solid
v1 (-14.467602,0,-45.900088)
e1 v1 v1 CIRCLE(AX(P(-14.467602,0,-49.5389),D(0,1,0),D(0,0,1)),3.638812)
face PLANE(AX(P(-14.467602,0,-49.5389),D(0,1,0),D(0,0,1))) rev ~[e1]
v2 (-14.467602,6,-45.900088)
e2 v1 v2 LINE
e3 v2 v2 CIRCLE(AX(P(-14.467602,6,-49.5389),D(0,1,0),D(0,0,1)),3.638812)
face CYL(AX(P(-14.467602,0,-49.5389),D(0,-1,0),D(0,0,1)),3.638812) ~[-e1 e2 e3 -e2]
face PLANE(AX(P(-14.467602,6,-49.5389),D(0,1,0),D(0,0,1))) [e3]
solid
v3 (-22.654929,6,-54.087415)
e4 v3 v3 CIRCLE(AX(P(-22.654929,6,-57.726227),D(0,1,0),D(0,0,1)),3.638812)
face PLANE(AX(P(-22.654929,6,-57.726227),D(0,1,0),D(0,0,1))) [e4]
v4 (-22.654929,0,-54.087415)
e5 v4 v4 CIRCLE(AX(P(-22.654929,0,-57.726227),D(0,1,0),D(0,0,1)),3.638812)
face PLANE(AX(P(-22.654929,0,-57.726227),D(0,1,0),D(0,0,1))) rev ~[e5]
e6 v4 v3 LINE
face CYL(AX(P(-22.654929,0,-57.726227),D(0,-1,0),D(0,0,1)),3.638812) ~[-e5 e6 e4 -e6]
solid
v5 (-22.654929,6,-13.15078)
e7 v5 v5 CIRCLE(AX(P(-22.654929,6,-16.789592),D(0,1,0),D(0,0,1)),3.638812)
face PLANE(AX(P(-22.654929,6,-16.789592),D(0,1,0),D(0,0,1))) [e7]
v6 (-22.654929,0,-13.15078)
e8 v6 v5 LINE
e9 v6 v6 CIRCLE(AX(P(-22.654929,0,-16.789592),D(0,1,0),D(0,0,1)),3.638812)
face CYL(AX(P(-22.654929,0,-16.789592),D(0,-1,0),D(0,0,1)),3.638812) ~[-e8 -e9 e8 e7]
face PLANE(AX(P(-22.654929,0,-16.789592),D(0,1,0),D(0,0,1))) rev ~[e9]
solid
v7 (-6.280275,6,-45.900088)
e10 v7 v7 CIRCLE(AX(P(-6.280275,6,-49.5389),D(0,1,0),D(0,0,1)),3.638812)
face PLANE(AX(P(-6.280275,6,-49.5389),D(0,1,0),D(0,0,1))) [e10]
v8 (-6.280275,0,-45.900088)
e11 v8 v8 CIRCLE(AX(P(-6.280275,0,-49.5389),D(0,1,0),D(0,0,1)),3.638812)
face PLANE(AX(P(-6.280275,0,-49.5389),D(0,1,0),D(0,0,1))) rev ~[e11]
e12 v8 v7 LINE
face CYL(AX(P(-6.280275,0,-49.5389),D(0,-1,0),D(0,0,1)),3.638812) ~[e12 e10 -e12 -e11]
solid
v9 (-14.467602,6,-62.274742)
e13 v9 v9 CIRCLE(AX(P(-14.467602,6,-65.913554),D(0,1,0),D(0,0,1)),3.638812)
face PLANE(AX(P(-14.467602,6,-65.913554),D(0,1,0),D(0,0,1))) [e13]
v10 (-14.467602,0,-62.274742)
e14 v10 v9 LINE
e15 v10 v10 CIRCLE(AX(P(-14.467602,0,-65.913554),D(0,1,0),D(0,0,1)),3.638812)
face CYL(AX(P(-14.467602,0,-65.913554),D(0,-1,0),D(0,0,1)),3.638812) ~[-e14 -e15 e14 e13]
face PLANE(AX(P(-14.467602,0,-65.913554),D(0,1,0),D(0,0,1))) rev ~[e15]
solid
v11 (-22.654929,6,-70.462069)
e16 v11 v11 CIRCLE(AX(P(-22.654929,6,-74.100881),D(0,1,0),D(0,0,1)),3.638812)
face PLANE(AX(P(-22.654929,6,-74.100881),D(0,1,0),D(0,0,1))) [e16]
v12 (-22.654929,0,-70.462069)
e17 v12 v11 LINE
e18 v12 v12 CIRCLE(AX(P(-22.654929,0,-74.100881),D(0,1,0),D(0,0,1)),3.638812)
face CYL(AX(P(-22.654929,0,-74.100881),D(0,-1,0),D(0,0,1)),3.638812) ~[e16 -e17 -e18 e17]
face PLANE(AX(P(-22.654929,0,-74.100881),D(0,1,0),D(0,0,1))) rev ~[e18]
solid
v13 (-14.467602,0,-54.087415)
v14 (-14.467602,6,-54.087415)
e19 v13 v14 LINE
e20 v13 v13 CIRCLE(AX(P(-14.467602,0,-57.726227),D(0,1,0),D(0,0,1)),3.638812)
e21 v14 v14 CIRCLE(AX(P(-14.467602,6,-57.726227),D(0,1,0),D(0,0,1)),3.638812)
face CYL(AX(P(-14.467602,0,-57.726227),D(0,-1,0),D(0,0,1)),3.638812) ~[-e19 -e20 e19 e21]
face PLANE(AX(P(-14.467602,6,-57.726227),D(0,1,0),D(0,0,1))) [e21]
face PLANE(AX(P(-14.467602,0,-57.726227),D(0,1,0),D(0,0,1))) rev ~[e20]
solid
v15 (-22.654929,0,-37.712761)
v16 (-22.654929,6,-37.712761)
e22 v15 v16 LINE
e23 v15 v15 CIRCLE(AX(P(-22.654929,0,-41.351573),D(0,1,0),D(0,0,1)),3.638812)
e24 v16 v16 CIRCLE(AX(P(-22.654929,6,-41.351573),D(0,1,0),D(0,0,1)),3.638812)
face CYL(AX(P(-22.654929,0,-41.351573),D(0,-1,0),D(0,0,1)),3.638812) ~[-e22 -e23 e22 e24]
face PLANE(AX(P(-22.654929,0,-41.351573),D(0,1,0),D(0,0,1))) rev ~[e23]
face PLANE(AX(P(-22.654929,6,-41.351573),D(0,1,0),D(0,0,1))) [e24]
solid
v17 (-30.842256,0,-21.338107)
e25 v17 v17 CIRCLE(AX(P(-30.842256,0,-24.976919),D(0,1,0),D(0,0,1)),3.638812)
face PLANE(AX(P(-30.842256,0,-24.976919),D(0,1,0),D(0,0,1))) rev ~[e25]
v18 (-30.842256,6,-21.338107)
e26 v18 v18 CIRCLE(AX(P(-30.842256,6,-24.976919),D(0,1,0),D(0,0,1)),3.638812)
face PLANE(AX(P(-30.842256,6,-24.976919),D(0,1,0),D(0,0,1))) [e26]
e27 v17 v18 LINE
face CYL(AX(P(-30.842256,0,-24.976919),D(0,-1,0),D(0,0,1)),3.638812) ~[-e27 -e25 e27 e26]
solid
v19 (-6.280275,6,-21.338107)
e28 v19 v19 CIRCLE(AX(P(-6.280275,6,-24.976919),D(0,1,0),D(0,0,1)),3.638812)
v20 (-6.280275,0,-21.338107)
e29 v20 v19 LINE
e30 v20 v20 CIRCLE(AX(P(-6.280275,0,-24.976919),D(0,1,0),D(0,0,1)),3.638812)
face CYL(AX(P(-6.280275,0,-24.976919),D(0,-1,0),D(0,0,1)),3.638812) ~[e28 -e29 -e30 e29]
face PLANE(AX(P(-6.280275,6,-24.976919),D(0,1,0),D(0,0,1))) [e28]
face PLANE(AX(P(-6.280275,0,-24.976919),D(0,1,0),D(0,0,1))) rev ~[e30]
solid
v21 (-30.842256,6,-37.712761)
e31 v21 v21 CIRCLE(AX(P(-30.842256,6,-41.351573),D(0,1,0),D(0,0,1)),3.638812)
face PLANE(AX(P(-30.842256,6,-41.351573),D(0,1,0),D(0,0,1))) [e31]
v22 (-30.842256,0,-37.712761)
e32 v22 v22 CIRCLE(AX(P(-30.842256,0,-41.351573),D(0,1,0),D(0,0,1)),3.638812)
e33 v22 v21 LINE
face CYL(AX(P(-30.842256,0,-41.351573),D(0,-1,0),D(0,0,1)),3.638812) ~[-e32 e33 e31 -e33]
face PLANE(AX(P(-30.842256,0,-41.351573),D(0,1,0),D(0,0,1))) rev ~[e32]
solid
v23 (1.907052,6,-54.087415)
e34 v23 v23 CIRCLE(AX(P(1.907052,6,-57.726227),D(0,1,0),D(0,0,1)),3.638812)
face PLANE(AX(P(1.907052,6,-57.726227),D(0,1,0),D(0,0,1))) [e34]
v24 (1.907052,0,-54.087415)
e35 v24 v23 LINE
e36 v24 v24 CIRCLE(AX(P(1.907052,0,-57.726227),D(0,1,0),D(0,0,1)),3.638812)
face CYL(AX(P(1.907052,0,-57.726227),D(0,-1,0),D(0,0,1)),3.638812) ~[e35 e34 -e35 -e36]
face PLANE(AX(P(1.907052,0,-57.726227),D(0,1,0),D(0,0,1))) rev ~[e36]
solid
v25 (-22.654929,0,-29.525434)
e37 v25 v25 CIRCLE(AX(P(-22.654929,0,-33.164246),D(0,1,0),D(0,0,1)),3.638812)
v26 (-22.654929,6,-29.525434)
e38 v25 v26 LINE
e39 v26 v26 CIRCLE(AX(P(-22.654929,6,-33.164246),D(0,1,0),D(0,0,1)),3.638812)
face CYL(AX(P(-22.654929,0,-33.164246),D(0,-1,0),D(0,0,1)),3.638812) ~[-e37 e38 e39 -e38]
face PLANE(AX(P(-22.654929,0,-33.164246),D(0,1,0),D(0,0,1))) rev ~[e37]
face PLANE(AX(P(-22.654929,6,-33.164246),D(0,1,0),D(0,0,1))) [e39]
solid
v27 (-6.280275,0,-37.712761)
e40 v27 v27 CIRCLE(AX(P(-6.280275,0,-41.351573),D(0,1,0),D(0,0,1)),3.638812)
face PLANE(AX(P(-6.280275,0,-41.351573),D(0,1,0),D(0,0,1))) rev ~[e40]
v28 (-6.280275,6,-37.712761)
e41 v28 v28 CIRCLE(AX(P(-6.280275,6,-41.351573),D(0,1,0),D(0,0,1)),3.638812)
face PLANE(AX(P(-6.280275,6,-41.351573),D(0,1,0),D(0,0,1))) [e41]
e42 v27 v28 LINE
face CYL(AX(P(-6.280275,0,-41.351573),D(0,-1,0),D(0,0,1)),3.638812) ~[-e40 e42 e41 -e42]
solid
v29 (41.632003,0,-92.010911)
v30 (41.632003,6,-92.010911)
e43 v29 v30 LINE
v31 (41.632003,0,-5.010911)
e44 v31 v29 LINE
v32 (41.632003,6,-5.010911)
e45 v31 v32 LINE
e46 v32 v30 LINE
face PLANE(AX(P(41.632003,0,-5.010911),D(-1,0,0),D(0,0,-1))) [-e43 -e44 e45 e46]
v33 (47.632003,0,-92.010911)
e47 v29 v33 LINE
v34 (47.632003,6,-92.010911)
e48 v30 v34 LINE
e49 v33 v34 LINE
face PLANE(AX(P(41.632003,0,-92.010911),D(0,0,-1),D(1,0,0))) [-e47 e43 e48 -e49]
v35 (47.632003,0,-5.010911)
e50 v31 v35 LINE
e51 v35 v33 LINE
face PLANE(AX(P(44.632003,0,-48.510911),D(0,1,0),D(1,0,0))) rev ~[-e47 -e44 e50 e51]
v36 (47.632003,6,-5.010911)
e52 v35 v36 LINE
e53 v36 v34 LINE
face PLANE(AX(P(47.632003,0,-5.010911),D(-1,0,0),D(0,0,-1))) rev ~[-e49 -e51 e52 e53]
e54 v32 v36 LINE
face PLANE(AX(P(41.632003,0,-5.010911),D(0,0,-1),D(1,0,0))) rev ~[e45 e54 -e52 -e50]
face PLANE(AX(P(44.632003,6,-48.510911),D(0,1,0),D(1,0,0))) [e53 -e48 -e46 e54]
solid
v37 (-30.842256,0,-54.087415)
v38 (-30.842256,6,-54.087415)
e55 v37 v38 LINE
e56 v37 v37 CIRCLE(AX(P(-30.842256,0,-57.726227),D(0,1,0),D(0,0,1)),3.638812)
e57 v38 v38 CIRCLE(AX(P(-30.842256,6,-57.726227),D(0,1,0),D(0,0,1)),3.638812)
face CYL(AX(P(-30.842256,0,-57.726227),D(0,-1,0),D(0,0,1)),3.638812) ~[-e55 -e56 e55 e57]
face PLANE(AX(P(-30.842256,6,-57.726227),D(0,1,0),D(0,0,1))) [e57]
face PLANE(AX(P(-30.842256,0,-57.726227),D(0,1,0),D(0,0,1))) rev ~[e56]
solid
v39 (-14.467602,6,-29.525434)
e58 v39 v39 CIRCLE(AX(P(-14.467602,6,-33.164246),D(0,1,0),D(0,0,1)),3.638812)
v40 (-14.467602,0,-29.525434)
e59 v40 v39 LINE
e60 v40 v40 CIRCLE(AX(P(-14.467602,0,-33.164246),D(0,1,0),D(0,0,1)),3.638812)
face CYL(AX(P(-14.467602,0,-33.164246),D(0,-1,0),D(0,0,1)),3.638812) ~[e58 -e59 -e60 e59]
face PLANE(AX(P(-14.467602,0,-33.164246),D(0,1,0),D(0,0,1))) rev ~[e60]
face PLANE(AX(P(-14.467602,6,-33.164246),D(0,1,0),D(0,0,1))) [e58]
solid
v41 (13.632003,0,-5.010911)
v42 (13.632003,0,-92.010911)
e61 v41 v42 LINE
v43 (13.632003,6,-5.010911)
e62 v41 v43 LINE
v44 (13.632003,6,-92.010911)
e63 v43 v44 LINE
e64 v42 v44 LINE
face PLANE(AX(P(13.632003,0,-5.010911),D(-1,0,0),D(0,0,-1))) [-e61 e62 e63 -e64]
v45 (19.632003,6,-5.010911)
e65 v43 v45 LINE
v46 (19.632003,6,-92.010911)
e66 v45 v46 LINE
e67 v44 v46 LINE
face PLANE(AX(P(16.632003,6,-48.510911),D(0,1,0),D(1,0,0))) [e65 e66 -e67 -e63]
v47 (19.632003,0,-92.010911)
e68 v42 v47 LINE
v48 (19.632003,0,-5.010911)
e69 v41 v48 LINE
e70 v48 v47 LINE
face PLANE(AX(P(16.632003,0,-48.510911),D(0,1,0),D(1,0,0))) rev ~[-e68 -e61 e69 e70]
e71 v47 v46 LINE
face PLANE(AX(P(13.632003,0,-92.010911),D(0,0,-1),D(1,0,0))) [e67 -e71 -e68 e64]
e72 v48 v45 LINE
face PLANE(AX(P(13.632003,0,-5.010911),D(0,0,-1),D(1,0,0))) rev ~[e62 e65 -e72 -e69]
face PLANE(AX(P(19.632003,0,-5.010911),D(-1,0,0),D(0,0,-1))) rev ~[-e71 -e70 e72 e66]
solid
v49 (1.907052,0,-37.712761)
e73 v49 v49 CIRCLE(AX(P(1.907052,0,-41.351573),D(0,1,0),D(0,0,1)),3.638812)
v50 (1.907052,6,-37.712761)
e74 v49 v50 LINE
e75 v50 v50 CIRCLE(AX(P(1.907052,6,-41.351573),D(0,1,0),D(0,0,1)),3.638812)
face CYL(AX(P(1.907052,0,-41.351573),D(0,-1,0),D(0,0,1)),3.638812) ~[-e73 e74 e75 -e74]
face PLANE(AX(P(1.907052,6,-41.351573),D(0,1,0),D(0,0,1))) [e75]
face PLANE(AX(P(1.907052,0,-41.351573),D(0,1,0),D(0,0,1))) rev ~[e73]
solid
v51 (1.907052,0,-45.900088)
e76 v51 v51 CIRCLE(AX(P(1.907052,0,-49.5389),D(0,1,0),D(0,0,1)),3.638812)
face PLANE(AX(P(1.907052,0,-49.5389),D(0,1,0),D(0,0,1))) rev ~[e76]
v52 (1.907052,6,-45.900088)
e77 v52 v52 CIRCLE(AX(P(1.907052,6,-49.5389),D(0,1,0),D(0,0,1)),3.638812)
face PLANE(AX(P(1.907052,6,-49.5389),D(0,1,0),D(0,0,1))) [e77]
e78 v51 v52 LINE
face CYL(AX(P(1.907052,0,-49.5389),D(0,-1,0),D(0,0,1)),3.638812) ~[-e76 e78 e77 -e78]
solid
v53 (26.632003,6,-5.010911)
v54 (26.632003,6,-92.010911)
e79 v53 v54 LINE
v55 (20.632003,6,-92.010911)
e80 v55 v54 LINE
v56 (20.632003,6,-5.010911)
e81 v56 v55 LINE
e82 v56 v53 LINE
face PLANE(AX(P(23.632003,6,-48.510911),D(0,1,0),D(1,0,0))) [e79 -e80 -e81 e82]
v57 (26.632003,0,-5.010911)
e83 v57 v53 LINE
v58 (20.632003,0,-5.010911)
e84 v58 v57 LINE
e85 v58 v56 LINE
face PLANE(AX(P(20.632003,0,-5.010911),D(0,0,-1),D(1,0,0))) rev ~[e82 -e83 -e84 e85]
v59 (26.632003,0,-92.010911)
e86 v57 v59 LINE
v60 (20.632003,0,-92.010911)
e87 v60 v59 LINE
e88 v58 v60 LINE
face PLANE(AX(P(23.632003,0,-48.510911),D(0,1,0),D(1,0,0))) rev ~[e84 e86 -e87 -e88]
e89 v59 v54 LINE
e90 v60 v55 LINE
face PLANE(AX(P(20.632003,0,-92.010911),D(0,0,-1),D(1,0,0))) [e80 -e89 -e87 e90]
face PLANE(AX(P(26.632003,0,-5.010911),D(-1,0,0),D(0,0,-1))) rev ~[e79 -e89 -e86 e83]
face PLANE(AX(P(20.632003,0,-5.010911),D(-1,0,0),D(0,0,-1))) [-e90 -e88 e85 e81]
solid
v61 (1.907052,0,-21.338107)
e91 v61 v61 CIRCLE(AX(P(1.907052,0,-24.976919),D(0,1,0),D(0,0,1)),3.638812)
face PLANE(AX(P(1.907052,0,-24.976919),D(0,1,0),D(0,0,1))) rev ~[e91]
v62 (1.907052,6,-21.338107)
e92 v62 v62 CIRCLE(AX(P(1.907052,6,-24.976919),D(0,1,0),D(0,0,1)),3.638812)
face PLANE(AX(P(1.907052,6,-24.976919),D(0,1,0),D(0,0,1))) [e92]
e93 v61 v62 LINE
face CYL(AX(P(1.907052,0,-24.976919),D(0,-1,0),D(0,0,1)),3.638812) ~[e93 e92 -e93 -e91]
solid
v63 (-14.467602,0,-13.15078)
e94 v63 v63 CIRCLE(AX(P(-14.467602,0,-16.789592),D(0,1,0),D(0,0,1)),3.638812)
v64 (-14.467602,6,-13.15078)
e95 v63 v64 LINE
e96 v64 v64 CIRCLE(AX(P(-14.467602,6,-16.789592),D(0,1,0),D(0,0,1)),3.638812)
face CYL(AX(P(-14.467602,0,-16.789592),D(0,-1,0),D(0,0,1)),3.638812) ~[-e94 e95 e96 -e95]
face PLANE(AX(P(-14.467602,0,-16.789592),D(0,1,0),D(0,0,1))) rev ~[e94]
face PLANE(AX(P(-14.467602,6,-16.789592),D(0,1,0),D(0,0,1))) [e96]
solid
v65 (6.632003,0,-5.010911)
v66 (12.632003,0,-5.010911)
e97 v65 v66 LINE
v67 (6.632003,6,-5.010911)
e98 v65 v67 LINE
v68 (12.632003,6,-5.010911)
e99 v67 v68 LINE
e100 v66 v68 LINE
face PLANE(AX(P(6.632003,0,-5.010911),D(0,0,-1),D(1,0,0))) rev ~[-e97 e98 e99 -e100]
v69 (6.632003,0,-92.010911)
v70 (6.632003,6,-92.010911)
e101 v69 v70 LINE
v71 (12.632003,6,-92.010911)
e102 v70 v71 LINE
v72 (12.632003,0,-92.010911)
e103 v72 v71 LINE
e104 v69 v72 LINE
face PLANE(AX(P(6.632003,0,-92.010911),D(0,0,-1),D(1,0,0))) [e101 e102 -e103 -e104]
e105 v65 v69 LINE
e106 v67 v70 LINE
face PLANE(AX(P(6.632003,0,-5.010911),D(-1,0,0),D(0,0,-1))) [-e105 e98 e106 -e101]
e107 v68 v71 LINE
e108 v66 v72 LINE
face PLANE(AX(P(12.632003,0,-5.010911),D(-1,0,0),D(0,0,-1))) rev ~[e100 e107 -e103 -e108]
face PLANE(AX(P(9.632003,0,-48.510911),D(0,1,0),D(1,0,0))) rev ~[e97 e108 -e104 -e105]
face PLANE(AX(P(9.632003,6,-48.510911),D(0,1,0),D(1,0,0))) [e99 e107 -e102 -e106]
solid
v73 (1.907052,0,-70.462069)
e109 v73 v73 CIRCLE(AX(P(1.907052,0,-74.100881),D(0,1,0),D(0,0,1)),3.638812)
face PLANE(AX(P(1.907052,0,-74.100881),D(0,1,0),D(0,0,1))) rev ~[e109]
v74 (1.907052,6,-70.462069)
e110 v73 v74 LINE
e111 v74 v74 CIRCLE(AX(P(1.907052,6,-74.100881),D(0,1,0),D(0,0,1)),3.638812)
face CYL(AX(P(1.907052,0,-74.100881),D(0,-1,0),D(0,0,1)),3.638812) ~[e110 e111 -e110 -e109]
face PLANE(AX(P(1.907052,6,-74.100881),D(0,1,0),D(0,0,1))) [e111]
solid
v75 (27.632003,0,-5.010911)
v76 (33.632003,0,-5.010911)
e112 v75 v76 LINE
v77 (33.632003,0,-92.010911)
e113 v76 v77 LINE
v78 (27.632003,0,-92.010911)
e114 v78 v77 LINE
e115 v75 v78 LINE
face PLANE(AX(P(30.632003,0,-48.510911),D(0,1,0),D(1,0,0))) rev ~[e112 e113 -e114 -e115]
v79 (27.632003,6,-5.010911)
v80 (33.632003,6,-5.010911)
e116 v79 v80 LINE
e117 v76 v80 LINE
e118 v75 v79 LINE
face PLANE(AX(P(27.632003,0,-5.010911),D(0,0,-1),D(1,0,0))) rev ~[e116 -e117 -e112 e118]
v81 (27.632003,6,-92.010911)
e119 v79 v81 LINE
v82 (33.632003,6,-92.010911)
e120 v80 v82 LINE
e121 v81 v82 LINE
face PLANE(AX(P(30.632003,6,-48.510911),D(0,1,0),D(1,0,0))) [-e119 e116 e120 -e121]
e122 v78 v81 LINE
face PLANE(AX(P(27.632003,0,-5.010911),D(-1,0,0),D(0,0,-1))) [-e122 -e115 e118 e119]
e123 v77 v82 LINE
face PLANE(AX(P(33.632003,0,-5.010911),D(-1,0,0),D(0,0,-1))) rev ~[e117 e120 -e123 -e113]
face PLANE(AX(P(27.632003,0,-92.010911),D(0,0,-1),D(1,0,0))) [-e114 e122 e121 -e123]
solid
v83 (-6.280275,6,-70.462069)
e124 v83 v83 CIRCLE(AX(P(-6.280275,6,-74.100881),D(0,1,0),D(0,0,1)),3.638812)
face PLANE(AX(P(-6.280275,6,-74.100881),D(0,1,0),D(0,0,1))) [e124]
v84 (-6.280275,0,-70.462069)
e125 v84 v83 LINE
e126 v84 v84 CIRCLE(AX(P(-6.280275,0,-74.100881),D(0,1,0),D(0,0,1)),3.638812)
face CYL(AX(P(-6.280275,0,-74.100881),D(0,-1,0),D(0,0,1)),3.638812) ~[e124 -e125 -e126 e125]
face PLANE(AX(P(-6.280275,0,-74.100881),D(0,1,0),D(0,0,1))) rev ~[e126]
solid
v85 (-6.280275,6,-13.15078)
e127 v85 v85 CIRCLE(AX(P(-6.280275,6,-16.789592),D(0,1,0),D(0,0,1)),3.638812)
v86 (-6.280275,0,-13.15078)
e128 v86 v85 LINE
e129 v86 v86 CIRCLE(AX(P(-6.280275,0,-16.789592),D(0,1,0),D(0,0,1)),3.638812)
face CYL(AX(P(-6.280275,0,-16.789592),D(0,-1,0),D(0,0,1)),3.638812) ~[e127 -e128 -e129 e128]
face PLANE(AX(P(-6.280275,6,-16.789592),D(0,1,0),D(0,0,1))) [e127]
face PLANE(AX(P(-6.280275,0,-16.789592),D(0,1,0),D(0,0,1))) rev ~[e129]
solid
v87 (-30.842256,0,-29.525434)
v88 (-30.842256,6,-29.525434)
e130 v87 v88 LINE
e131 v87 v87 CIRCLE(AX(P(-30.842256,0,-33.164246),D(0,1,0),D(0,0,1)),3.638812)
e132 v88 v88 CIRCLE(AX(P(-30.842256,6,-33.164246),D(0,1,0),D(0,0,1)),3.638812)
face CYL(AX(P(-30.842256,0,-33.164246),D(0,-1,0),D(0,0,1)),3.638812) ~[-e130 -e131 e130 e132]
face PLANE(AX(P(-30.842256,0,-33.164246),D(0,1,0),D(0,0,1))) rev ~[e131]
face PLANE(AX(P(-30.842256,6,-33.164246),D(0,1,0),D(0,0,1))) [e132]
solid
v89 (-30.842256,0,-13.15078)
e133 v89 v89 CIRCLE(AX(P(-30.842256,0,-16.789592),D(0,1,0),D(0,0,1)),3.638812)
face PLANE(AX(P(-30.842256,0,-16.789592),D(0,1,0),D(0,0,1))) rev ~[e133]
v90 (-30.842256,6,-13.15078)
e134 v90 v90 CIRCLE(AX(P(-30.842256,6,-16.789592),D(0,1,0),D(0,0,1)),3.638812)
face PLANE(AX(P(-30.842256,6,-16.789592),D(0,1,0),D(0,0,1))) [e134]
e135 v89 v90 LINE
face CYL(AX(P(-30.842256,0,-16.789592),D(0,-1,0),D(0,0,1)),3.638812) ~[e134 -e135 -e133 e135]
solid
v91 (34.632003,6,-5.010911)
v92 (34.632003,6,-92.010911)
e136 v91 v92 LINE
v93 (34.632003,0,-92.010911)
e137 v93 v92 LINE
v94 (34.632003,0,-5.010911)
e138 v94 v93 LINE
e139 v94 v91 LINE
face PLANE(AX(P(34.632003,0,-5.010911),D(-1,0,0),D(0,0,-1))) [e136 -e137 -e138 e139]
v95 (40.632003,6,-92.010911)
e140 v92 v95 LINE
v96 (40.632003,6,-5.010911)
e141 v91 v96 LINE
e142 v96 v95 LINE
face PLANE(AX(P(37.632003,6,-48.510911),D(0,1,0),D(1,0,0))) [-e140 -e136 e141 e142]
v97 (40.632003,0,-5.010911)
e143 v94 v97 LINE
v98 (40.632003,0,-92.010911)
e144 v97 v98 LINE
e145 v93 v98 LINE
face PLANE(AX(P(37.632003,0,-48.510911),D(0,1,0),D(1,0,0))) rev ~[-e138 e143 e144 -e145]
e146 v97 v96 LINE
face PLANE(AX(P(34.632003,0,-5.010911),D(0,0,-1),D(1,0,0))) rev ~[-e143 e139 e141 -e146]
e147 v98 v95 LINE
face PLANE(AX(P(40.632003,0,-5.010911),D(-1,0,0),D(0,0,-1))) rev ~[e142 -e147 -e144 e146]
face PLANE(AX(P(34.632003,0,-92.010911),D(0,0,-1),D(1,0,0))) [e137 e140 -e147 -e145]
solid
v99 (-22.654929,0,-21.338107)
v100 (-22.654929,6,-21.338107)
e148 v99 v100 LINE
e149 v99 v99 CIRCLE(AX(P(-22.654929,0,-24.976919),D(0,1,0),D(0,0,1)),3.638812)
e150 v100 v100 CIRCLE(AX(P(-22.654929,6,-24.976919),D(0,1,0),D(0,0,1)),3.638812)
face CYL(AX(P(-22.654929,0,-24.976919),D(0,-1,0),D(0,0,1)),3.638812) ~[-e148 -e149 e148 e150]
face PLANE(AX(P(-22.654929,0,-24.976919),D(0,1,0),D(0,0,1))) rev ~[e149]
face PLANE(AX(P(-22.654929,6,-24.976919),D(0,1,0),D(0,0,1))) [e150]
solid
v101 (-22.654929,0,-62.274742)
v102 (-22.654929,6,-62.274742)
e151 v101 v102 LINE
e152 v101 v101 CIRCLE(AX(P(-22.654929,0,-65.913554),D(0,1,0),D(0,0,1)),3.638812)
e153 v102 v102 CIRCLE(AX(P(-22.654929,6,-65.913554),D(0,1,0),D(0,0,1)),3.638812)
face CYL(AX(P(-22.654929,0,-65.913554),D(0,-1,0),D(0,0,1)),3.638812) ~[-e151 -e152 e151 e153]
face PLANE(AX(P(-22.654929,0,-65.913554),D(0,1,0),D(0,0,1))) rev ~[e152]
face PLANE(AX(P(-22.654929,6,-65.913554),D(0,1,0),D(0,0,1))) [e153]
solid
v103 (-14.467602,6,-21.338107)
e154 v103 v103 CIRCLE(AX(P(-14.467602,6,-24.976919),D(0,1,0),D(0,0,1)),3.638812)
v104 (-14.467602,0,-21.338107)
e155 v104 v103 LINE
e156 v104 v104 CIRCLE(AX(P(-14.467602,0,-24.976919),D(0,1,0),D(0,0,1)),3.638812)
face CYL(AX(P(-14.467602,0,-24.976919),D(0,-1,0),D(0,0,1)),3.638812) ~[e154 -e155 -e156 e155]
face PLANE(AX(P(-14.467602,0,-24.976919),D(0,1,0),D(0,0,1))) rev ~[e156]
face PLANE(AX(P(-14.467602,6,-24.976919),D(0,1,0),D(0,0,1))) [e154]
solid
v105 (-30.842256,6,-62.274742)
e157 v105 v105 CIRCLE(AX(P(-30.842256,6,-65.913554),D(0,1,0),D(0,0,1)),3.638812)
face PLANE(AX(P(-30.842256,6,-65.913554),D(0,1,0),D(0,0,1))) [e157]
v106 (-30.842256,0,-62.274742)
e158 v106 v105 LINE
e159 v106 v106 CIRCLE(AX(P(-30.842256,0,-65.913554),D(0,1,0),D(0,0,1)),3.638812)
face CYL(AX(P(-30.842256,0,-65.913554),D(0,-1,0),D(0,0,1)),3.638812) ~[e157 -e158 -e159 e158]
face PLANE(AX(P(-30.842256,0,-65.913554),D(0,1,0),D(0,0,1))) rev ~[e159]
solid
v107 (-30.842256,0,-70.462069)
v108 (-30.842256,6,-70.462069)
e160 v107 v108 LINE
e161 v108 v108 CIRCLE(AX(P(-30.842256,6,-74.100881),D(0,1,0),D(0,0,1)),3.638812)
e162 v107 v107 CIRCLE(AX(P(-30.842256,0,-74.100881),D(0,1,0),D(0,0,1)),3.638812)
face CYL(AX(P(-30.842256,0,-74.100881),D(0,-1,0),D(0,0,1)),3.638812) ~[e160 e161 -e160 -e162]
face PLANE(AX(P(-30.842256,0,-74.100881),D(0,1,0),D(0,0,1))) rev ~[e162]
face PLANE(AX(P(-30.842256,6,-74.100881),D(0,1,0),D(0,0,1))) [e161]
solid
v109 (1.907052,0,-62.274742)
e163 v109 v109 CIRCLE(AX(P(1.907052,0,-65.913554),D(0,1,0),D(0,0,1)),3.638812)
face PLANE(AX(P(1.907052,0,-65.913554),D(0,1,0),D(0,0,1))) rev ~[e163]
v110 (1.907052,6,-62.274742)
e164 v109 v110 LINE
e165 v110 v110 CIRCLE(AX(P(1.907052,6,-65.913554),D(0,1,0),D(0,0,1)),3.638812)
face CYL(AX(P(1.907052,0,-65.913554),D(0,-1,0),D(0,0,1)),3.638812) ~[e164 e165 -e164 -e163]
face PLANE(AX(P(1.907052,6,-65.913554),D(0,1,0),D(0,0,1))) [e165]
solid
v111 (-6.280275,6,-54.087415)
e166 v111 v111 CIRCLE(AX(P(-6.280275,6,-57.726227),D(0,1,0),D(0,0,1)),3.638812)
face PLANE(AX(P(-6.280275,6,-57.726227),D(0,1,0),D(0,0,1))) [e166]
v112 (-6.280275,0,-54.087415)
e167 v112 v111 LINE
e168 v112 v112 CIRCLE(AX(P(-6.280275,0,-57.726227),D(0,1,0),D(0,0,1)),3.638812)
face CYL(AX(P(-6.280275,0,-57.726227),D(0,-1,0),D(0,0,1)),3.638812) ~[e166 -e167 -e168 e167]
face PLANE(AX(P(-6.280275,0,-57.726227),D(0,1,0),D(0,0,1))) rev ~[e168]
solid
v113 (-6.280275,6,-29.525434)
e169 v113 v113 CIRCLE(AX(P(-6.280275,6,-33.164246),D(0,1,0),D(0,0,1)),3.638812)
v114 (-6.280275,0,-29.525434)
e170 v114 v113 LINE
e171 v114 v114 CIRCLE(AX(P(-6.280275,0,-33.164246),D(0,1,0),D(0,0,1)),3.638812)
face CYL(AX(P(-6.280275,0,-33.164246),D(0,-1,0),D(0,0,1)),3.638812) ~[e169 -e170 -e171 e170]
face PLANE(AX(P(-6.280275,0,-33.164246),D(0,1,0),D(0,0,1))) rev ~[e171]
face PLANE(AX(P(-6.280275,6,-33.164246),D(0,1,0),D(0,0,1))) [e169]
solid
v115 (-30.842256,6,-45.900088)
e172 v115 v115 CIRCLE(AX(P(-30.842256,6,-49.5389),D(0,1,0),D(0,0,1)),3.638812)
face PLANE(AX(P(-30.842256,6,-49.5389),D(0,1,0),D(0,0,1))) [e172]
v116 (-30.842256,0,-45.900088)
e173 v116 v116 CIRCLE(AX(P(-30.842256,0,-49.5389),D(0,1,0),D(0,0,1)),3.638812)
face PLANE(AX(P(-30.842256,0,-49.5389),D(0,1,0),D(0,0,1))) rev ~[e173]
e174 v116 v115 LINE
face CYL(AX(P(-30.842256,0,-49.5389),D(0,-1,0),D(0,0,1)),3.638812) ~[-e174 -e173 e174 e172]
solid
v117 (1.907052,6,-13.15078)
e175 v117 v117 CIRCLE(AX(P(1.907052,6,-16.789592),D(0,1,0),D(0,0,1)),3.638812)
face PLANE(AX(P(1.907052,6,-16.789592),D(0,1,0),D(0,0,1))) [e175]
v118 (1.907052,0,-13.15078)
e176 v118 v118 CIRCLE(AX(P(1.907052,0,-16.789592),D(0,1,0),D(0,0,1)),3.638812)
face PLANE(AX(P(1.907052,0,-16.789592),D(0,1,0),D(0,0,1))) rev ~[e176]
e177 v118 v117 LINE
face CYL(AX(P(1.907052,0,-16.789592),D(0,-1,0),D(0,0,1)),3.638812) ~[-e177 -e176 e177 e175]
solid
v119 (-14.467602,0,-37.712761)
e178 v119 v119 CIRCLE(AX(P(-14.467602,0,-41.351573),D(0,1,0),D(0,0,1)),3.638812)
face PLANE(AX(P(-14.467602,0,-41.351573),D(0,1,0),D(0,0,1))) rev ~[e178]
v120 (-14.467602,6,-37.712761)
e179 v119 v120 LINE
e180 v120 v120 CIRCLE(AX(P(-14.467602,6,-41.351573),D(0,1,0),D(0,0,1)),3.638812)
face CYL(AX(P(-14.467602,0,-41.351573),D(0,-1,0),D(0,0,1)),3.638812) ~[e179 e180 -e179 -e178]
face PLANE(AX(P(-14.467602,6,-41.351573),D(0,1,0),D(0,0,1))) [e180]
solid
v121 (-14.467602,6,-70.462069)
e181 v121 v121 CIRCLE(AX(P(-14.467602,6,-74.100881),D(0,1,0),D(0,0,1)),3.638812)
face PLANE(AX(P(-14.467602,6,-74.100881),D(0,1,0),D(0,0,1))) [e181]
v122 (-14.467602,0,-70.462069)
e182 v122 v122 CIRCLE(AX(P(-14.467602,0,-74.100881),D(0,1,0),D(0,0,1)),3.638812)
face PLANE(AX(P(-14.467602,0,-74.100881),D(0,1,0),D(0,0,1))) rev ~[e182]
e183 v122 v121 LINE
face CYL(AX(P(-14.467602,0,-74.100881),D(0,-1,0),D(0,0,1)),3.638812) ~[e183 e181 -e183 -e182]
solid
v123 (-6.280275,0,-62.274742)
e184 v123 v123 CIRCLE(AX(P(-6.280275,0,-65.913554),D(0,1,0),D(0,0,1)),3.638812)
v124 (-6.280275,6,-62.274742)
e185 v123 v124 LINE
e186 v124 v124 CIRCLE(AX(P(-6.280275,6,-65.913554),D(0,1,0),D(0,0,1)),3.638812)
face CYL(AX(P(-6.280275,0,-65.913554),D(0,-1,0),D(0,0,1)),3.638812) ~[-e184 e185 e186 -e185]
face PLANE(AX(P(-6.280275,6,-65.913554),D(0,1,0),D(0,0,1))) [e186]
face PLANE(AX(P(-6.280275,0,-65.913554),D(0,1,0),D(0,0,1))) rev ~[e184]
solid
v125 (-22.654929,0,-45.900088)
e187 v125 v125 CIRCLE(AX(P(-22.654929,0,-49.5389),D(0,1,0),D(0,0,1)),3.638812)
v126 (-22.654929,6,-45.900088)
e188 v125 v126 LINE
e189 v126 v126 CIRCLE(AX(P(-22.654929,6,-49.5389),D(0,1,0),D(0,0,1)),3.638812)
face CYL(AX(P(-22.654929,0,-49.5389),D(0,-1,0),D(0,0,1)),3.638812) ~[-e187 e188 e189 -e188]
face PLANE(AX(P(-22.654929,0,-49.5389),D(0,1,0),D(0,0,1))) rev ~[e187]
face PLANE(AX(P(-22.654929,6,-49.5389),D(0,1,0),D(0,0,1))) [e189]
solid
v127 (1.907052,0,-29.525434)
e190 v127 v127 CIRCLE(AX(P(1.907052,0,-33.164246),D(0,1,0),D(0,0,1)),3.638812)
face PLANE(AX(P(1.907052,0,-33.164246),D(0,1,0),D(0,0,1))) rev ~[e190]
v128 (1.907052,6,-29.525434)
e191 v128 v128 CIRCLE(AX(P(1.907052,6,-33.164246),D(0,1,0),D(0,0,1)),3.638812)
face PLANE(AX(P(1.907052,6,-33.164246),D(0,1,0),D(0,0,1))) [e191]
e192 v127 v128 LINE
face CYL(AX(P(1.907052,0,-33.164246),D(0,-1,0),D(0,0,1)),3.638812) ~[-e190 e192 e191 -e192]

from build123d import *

# Parameters (mm, degrees)
ESBO_O1_R                   = 3.63881204
RESSALTO_EXTRUS_O1_DEPTH    = 6
RESSALTO_EXTRUS_O1_2_DEPTH  = 6
RESSALTO_EXTRUS_O1_3_DEPTH  = 6
RESSALTO_EXTRUS_O1_4_DEPTH  = 6
RESSALTO_EXTRUS_O1_5_DEPTH  = 6
RESSALTO_EXTRUS_O1_6_DEPTH  = 6
RESSALTO_EXTRUS_O1_7_DEPTH  = 6
RESSALTO_EXTRUS_O1_8_DEPTH  = 6
RESSALTO_EXTRUS_O1_9_DEPTH  = 6
RESSALTO_EXTRUS_O1_10_DEPTH = 6
RESSALTO_EXTRUS_O1_11_DEPTH = 6
RESSALTO_EXTRUS_O1_12_DEPTH = 6
RESSALTO_EXTRUS_O1_13_DEPTH = 6
RESSALTO_EXTRUS_O1_14_DEPTH = 6
RESSALTO_EXTRUS_O1_15_DEPTH = 6
RESSALTO_EXTRUS_O1_16_DEPTH = 6
RESSALTO_EXTRUS_O1_17_DEPTH = 6
RESSALTO_EXTRUS_O1_18_DEPTH = 6
RESSALTO_EXTRUS_O1_19_DEPTH = 6
RESSALTO_EXTRUS_O1_20_DEPTH = 6
RESSALTO_EXTRUS_O1_21_DEPTH = 6
RESSALTO_EXTRUS_O1_22_DEPTH = 6
RESSALTO_EXTRUS_O1_23_DEPTH = 6
RESSALTO_EXTRUS_O1_24_DEPTH = 6
RESSALTO_EXTRUS_O1_25_DEPTH = 6
RESSALTO_EXTRUS_O1_26_DEPTH = 6
RESSALTO_EXTRUS_O1_27_DEPTH = 6
RESSALTO_EXTRUS_O1_28_DEPTH = 6
RESSALTO_EXTRUS_O1_29_DEPTH = 6
RESSALTO_EXTRUS_O1_30_DEPTH = 6
RESSALTO_EXTRUS_O1_31_DEPTH = 6
RESSALTO_EXTRUS_O1_32_DEPTH = 6
RESSALTO_EXTRUS_O1_33_DEPTH = 6
RESSALTO_EXTRUS_O1_34_DEPTH = 6
RESSALTO_EXTRUS_O1_35_DEPTH = 6
RESSALTO_EXTRUS_O1_36_DEPTH = 6
RESSALTO_EXTRUS_O1_37_DEPTH = 6
RESSALTO_EXTRUS_O1_38_DEPTH = 6
RESSALTO_EXTRUS_O1_39_DEPTH = 6
RESSALTO_EXTRUS_O1_40_DEPTH = 6
ESBO_O1_W                   = 6
ESBO_O1_H                   = 87
RESSALTO_EXTRUS_O1_41_DEPTH = 6
RESSALTO_EXTRUS_O1_42_DEPTH = 6
RESSALTO_EXTRUS_O1_43_DEPTH = 6
RESSALTO_EXTRUS_O1_44_DEPTH = 6
RESSALTO_EXTRUS_O1_45_DEPTH = 6
RESSALTO_EXTRUS_O1_46_DEPTH = 6


with BuildPart() as part:
    # Esboço1 → Ressalto-extrusão1 (new body)
    with BuildSketch(Plane(origin=(0, 0, 0), x_dir=(1, 0, 0), z_dir=(0, 1, 0))):
        with Locations(Location((-30.842256069, 16.789591759, 0), (0, 0, 270))):
            Circle(ESBO_O1_R)
    extrude(amount=RESSALTO_EXTRUS_O1_DEPTH)


with BuildPart() as body_2:
    # Esboço1 → Ressalto-extrus_o1 2 (new body)
    with BuildSketch(Plane(origin=(0, 0, 0), x_dir=(1, 0, 0), z_dir=(0, 1, 0))):
        with Locations(Location((-22.654928979, 16.789591759, 0), (0, 0, 270))):
            Circle(ESBO_O1_R)
    extrude(amount=RESSALTO_EXTRUS_O1_2_DEPTH)


with BuildPart() as body_3:
    # Esboço1 → Ressalto-extrus_o1 3 (new body)
    with BuildSketch(Plane(origin=(0, 0, 0), x_dir=(1, 0, 0), z_dir=(0, 1, 0))):
        with Locations(Location((-14.46760189, 16.789591759, 0), (0, 0, 270))):
            Circle(ESBO_O1_R)
    extrude(amount=RESSALTO_EXTRUS_O1_3_DEPTH)


with BuildPart() as body_4:
    # Esboço1 → Ressalto-extrus_o1 4 (new body)
    with BuildSketch(Plane(origin=(0, 0, 0), x_dir=(1, 0, 0), z_dir=(0, 1, 0))):
        with Locations(Location((-6.280274801, 16.789591759, 0), (0, 0, 270))):
            Circle(ESBO_O1_R)
    extrude(amount=RESSALTO_EXTRUS_O1_4_DEPTH)


with BuildPart() as body_5:
    # Esboço1 → Ressalto-extrus_o1 5 (new body)
    with BuildSketch(Plane(origin=(0, 0, 0), x_dir=(1, 0, 0), z_dir=(0, 1, 0))):
        with Locations(Location((1.907052288, 16.789591759, 0), (0, 0, 270))):
            Circle(ESBO_O1_R)
    extrude(amount=RESSALTO_EXTRUS_O1_5_DEPTH)


with BuildPart() as body_6:
    # Esboço1 → Ressalto-extrus_o1 6 (new body)
    with BuildSketch(Plane(origin=(0, 0, 0), x_dir=(1, 0, 0), z_dir=(0, 1, 0))):
        with Locations(Location((-22.654928979, 24.976918848, 0), (0, 0, 270))):
            Circle(ESBO_O1_R)
    extrude(amount=RESSALTO_EXTRUS_O1_6_DEPTH)


with BuildPart() as body_7:
    # Esboço1 → Ressalto-extrus_o1 7 (new body)
    with BuildSketch(Plane(origin=(0, 0, 0), x_dir=(1, 0, 0), z_dir=(0, 1, 0))):
        with Locations(Location((-14.46760189, 24.976918848, 0), (0, 0, 270))):
            Circle(ESBO_O1_R)
    extrude(amount=RESSALTO_EXTRUS_O1_7_DEPTH)


with BuildPart() as body_8:
    # Esboço1 → Ressalto-extrus_o1 8 (new body)
    with BuildSketch(Plane(origin=(0, 0, 0), x_dir=(1, 0, 0), z_dir=(0, 1, 0))):
        with Locations(Location((-6.280274801, 24.976918848, 0), (0, 0, 270))):
            Circle(ESBO_O1_R)
    extrude(amount=RESSALTO_EXTRUS_O1_8_DEPTH)


with BuildPart() as body_9:
    # Esboço1 → Ressalto-extrus_o1 9 (new body)
    with BuildSketch(Plane(origin=(0, 0, 0), x_dir=(1, 0, 0), z_dir=(0, 1, 0))):
        with Locations(Location((1.907052288, 24.976918848, 0), (0, 0, 270))):
            Circle(ESBO_O1_R)
    extrude(amount=RESSALTO_EXTRUS_O1_9_DEPTH)


with BuildPart() as body_10:
    # Esboço1 → Ressalto-extrus_o1 10 (new body)
    with BuildSketch(Plane(origin=(0, 0, 0), x_dir=(1, 0, 0), z_dir=(0, 1, 0))):
        with Locations(Location((-22.654928979, 33.164245938, 0), (0, 0, 270))):
            Circle(ESBO_O1_R)
    extrude(amount=RESSALTO_EXTRUS_O1_10_DEPTH)


with BuildPart() as body_11:
    # Esboço1 → Ressalto-extrus_o1 11 (new body)
    with BuildSketch(Plane(origin=(0, 0, 0), x_dir=(1, 0, 0), z_dir=(0, 1, 0))):
        with Locations(Location((-14.46760189, 33.164245938, 0), (0, 0, 270))):
            Circle(ESBO_O1_R)
    extrude(amount=RESSALTO_EXTRUS_O1_11_DEPTH)


with BuildPart() as body_12:
    # Esboço1 → Ressalto-extrus_o1 12 (new body)
    with BuildSketch(Plane(origin=(0, 0, 0), x_dir=(1, 0, 0), z_dir=(0, 1, 0))):
        with Locations(Location((-6.280274801, 33.164245938, 0), (0, 0, 270))):
            Circle(ESBO_O1_R)
    extrude(amount=RESSALTO_EXTRUS_O1_12_DEPTH)


with BuildPart() as body_13:
    # Esboço1 → Ressalto-extrus_o1 13 (new body)
    with BuildSketch(Plane(origin=(0, 0, 0), x_dir=(1, 0, 0), z_dir=(0, 1, 0))):
        with Locations(Location((1.907052288, 33.164245938, 0), (0, 0, 270))):
            Circle(ESBO_O1_R)
    extrude(amount=RESSALTO_EXTRUS_O1_13_DEPTH)


with BuildPart() as body_14:
    # Esboço1 → Ressalto-extrus_o1 14 (new body)
    with BuildSketch(Plane(origin=(0, 0, 0), x_dir=(1, 0, 0), z_dir=(0, 1, 0))):
        with Locations(Location((-22.654928979, 41.351573027, 0), (0, 0, 270))):
            Circle(ESBO_O1_R)
    extrude(amount=RESSALTO_EXTRUS_O1_14_DEPTH)


with BuildPart() as body_15:
    # Esboço1 → Ressalto-extrus_o1 15 (new body)
    with BuildSketch(Plane(origin=(0, 0, 0), x_dir=(1, 0, 0), z_dir=(0, 1, 0))):
        with Locations(Location((-14.46760189, 41.351573027, 0), (0, 0, 270))):
            Circle(ESBO_O1_R)
    extrude(amount=RESSALTO_EXTRUS_O1_15_DEPTH)


with BuildPart() as body_16:
    # Esboço1 → Ressalto-extrus_o1 16 (new body)
    with BuildSketch(Plane(origin=(0, 0, 0), x_dir=(1, 0, 0), z_dir=(0, 1, 0))):
        with Locations(Location((-6.280274801, 41.351573027, 0), (0, 0, 270))):
            Circle(ESBO_O1_R)
    extrude(amount=RESSALTO_EXTRUS_O1_16_DEPTH)


with BuildPart() as body_17:
    # Esboço1 → Ressalto-extrus_o1 17 (new body)
    with BuildSketch(Plane(origin=(0, 0, 0), x_dir=(1, 0, 0), z_dir=(0, 1, 0))):
        with Locations(Location((1.907052288, 41.351573027, 0), (0, 0, 270))):
            Circle(ESBO_O1_R)
    extrude(amount=RESSALTO_EXTRUS_O1_17_DEPTH)


with BuildPart() as body_18:
    # Esboço1 → Ressalto-extrus_o1 18 (new body)
    with BuildSketch(Plane(origin=(0, 0, 0), x_dir=(1, 0, 0), z_dir=(0, 1, 0))):
        with Locations(Location((-22.654928979, 49.538900116, 0), (0, 0, 270))):
            Circle(ESBO_O1_R)
    extrude(amount=RESSALTO_EXTRUS_O1_18_DEPTH)


with BuildPart() as body_19:
    # Esboço1 → Ressalto-extrus_o1 19 (new body)
    with BuildSketch(Plane(origin=(0, 0, 0), x_dir=(1, 0, 0), z_dir=(0, 1, 0))):
        with Locations(Location((-14.46760189, 49.538900116, 0), (0, 0, 270))):
            Circle(ESBO_O1_R)
    extrude(amount=RESSALTO_EXTRUS_O1_19_DEPTH)


with BuildPart() as body_20:
    # Esboço1 → Ressalto-extrus_o1 20 (new body)
    with BuildSketch(Plane(origin=(0, 0, 0), x_dir=(1, 0, 0), z_dir=(0, 1, 0))):
        with Locations(Location((-6.280274801, 49.538900116, 0), (0, 0, 270))):
            Circle(ESBO_O1_R)
    extrude(amount=RESSALTO_EXTRUS_O1_20_DEPTH)


with BuildPart() as body_21:
    # Esboço1 → Ressalto-extrus_o1 21 (new body)
    with BuildSketch(Plane(origin=(0, 0, 0), x_dir=(1, 0, 0), z_dir=(0, 1, 0))):
        with Locations(Location((1.907052288, 49.538900116, 0), (0, 0, 270))):
            Circle(ESBO_O1_R)
    extrude(amount=RESSALTO_EXTRUS_O1_21_DEPTH)


with BuildPart() as body_22:
    # Esboço1 → Ressalto-extrus_o1 22 (new body)
    with BuildSketch(Plane(origin=(0, 0, 0), x_dir=(1, 0, 0), z_dir=(0, 1, 0))):
        with Locations(Location((-22.654928979, 57.726227205, 0), (0, 0, 270))):
            Circle(ESBO_O1_R)
    extrude(amount=RESSALTO_EXTRUS_O1_22_DEPTH)


with BuildPart() as body_23:
    # Esboço1 → Ressalto-extrus_o1 23 (new body)
    with BuildSketch(Plane(origin=(0, 0, 0), x_dir=(1, 0, 0), z_dir=(0, 1, 0))):
        with Locations(Location((-14.46760189, 57.726227205, 0), (0, 0, 270))):
            Circle(ESBO_O1_R)
    extrude(amount=RESSALTO_EXTRUS_O1_23_DEPTH)


with BuildPart() as body_24:
    # Esboço1 → Ressalto-extrus_o1 24 (new body)
    with BuildSketch(Plane(origin=(0, 0, 0), x_dir=(1, 0, 0), z_dir=(0, 1, 0))):
        with Locations(Location((-6.280274801, 57.726227205, 0), (0, 0, 270))):
            Circle(ESBO_O1_R)
    extrude(amount=RESSALTO_EXTRUS_O1_24_DEPTH)


with BuildPart() as body_25:
    # Esboço1 → Ressalto-extrus_o1 25 (new body)
    with BuildSketch(Plane(origin=(0, 0, 0), x_dir=(1, 0, 0), z_dir=(0, 1, 0))):
        with Locations(Location((1.907052288, 57.726227205, 0), (0, 0, 270))):
            Circle(ESBO_O1_R)
    extrude(amount=RESSALTO_EXTRUS_O1_25_DEPTH)


with BuildPart() as body_26:
    # Esboço1 → Ressalto-extrus_o1 26 (new body)
    with BuildSketch(Plane(origin=(0, 0, 0), x_dir=(1, 0, 0), z_dir=(0, 1, 0))):
        with Locations(Location((-22.654928979, 65.913554294, 0), (0, 0, 270))):
            Circle(ESBO_O1_R)
    extrude(amount=RESSALTO_EXTRUS_O1_26_DEPTH)


with BuildPart() as body_27:
    # Esboço1 → Ressalto-extrus_o1 27 (new body)
    with BuildSketch(Plane(origin=(0, 0, 0), x_dir=(1, 0, 0), z_dir=(0, 1, 0))):
        with Locations(Location((-14.46760189, 65.913554294, 0), (0, 0, 270))):
            Circle(ESBO_O1_R)
    extrude(amount=RESSALTO_EXTRUS_O1_27_DEPTH)


with BuildPart() as body_28:
    # Esboço1 → Ressalto-extrus_o1 28 (new body)
    with BuildSketch(Plane(origin=(0, 0, 0), x_dir=(1, 0, 0), z_dir=(0, 1, 0))):
        with Locations(Location((-6.280274801, 65.913554294, 0), (0, 0, 270))):
            Circle(ESBO_O1_R)
    extrude(amount=RESSALTO_EXTRUS_O1_28_DEPTH)


with BuildPart() as body_29:
    # Esboço1 → Ressalto-extrus_o1 29 (new body)
    with BuildSketch(Plane(origin=(0, 0, 0), x_dir=(1, 0, 0), z_dir=(0, 1, 0))):
        with Locations(Location((1.907052288, 65.913554294, 0), (0, 0, 270))):
            Circle(ESBO_O1_R)
    extrude(amount=RESSALTO_EXTRUS_O1_29_DEPTH)


with BuildPart() as body_30:
    # Esboço1 → Ressalto-extrus_o1 30 (new body)
    with BuildSketch(Plane(origin=(0, 0, 0), x_dir=(1, 0, 0), z_dir=(0, 1, 0))):
        with Locations(Location((-22.654928979, 74.100881384, 0), (0, 0, 270))):
            Circle(ESBO_O1_R)
    extrude(amount=RESSALTO_EXTRUS_O1_30_DEPTH)


with BuildPart() as body_31:
    # Esboço1 → Ressalto-extrus_o1 31 (new body)
    with BuildSketch(Plane(origin=(0, 0, 0), x_dir=(1, 0, 0), z_dir=(0, 1, 0))):
        with Locations(Location((-14.46760189, 74.100881384, 0), (0, 0, 270))):
            Circle(ESBO_O1_R)
    extrude(amount=RESSALTO_EXTRUS_O1_31_DEPTH)


with BuildPart() as body_32:
    # Esboço1 → Ressalto-extrus_o1 32 (new body)
    with BuildSketch(Plane(origin=(0, 0, 0), x_dir=(1, 0, 0), z_dir=(0, 1, 0))):
        with Locations(Location((-6.280274801, 74.100881384, 0), (0, 0, 270))):
            Circle(ESBO_O1_R)
    extrude(amount=RESSALTO_EXTRUS_O1_32_DEPTH)


with BuildPart() as body_33:
    # Esboço1 → Ressalto-extrus_o1 33 (new body)
    with BuildSketch(Plane(origin=(0, 0, 0), x_dir=(1, 0, 0), z_dir=(0, 1, 0))):
        with Locations(Location((1.907052288, 74.100881384, 0), (0, 0, 270))):
            Circle(ESBO_O1_R)
    extrude(amount=RESSALTO_EXTRUS_O1_33_DEPTH)


with BuildPart() as body_34:
    # Esboço1 → Ressalto-extrus_o1 34 (new body)
    with BuildSketch(Plane(origin=(0, 0, 0), x_dir=(1, 0, 0), z_dir=(0, 1, 0))):
        with Locations(Location((-30.842256069, 24.976918848, 0), (0, 0, 270))):
            Circle(ESBO_O1_R)
    extrude(amount=RESSALTO_EXTRUS_O1_34_DEPTH)


with BuildPart() as body_35:
    # Esboço1 → Ressalto-extrus_o1 35 (new body)
    with BuildSketch(Plane(origin=(0, 0, 0), x_dir=(1, 0, 0), z_dir=(0, 1, 0))):
        with Locations(Location((-30.842256069, 33.164245938, 0), (0, 0, 270))):
            Circle(ESBO_O1_R)
    extrude(amount=RESSALTO_EXTRUS_O1_35_DEPTH)


with BuildPart() as body_36:
    # Esboço1 → Ressalto-extrus_o1 36 (new body)
    with BuildSketch(Plane(origin=(0, 0, 0), x_dir=(1, 0, 0), z_dir=(0, 1, 0))):
        with Locations(Location((-30.842256069, 41.351573027, 0), (0, 0, 270))):
            Circle(ESBO_O1_R)
    extrude(amount=RESSALTO_EXTRUS_O1_36_DEPTH)


with BuildPart() as body_37:
    # Esboço1 → Ressalto-extrus_o1 37 (new body)
    with BuildSketch(Plane(origin=(0, 0, 0), x_dir=(1, 0, 0), z_dir=(0, 1, 0))):
        with Locations(Location((-30.842256069, 49.538900116, 0), (0, 0, 270))):
            Circle(ESBO_O1_R)
    extrude(amount=RESSALTO_EXTRUS_O1_37_DEPTH)


with BuildPart() as body_38:
    # Esboço1 → Ressalto-extrus_o1 38 (new body)
    with BuildSketch(Plane(origin=(0, 0, 0), x_dir=(1, 0, 0), z_dir=(0, 1, 0))):
        with Locations(Location((-30.842256069, 57.726227205, 0), (0, 0, 270))):
            Circle(ESBO_O1_R)
    extrude(amount=RESSALTO_EXTRUS_O1_38_DEPTH)


with BuildPart() as body_39:
    # Esboço1 → Ressalto-extrus_o1 39 (new body)
    with BuildSketch(Plane(origin=(0, 0, 0), x_dir=(1, 0, 0), z_dir=(0, 1, 0))):
        with Locations(Location((-30.842256069, 65.913554294, 0), (0, 0, 270))):
            Circle(ESBO_O1_R)
    extrude(amount=RESSALTO_EXTRUS_O1_39_DEPTH)


with BuildPart() as body_40:
    # Esboço1 → Ressalto-extrus_o1 40 (new body)
    with BuildSketch(Plane(origin=(0, 0, 0), x_dir=(1, 0, 0), z_dir=(0, 1, 0))):
        with Locations(Location((-30.842256069, 74.100881384, 0), (0, 0, 270))):
            Circle(ESBO_O1_R)
    extrude(amount=RESSALTO_EXTRUS_O1_40_DEPTH)


with BuildPart() as body_41:
    # Esboço1 → Ressalto-extrus_o1 41 (new body)
    with BuildSketch(Plane(origin=(0, 0, 0), x_dir=(1, 0, 0), z_dir=(0, 1, 0))):
        with Locations((16.632003209, 48.5109107)):
            Rectangle(ESBO_O1_W, ESBO_O1_H)
    extrude(amount=RESSALTO_EXTRUS_O1_41_DEPTH)


with BuildPart() as body_42:
    # Esboço1 → Ressalto-extrus_o1 42 (new body)
    with BuildSketch(Plane(origin=(0, 0, 0), x_dir=(1, 0, 0), z_dir=(0, 1, 0))):
        with Locations((9.632003209, 48.5109107)):
            Rectangle(ESBO_O1_W, ESBO_O1_H)
    extrude(amount=RESSALTO_EXTRUS_O1_42_DEPTH)


with BuildPart() as body_43:
    # Esboço1 → Ressalto-extrus_o1 43 (new body)
    with BuildSketch(Plane(origin=(0, 0, 0), x_dir=(1, 0, 0), z_dir=(0, 1, 0))):
        with Locations((23.632003209, 48.5109107)):
            Rectangle(ESBO_O1_W, ESBO_O1_H)
    extrude(amount=RESSALTO_EXTRUS_O1_43_DEPTH)


with BuildPart() as body_44:
    # Esboço1 → Ressalto-extrus_o1 44 (new body)
    with BuildSketch(Plane(origin=(0, 0, 0), x_dir=(1, 0, 0), z_dir=(0, 1, 0))):
        with Locations((30.632003209, 48.5109107)):
            Rectangle(ESBO_O1_W, ESBO_O1_H)
    extrude(amount=RESSALTO_EXTRUS_O1_44_DEPTH)


with BuildPart() as body_45:
    # Esboço1 → Ressalto-extrus_o1 45 (new body)
    with BuildSketch(Plane(origin=(0, 0, 0), x_dir=(1, 0, 0), z_dir=(0, 1, 0))):
        with Locations((37.632003209, 48.5109107)):
            Rectangle(ESBO_O1_W, ESBO_O1_H)
    extrude(amount=RESSALTO_EXTRUS_O1_45_DEPTH)


with BuildPart() as body_46:
    # Esboço1 → Ressalto-extrus_o1 46 (new body)
    with BuildSketch(Plane(origin=(0, 0, 0), x_dir=(1, 0, 0), z_dir=(0, 1, 0))):
        with Locations((44.632003209, 48.5109107)):
            Rectangle(ESBO_O1_W, ESBO_O1_H)
    extrude(amount=RESSALTO_EXTRUS_O1_46_DEPTH)


solid = Compound([part.part, body_2.part, body_3.part, body_4.part, body_5.part, body_6.part, body_7.part, body_8.part, body_9.part, body_10.part, body_11.part, body_12.part, body_13.part, body_14.part, body_15.part, body_16.part, body_17.part, body_18.part, body_19.part, body_20.part, body_21.part, body_22.part, body_23.part, body_24.part, body_25.part, body_26.part, body_27.part, body_28.part, body_29.part, body_30.part, body_31.part, body_32.part, body_33.part, body_34.part, body_35.part, body_36.part, body_37.part, body_38.part, body_39.part, body_40.part, body_41.part, body_42.part, body_43.part, body_44.part, body_45.part, body_46.part])
